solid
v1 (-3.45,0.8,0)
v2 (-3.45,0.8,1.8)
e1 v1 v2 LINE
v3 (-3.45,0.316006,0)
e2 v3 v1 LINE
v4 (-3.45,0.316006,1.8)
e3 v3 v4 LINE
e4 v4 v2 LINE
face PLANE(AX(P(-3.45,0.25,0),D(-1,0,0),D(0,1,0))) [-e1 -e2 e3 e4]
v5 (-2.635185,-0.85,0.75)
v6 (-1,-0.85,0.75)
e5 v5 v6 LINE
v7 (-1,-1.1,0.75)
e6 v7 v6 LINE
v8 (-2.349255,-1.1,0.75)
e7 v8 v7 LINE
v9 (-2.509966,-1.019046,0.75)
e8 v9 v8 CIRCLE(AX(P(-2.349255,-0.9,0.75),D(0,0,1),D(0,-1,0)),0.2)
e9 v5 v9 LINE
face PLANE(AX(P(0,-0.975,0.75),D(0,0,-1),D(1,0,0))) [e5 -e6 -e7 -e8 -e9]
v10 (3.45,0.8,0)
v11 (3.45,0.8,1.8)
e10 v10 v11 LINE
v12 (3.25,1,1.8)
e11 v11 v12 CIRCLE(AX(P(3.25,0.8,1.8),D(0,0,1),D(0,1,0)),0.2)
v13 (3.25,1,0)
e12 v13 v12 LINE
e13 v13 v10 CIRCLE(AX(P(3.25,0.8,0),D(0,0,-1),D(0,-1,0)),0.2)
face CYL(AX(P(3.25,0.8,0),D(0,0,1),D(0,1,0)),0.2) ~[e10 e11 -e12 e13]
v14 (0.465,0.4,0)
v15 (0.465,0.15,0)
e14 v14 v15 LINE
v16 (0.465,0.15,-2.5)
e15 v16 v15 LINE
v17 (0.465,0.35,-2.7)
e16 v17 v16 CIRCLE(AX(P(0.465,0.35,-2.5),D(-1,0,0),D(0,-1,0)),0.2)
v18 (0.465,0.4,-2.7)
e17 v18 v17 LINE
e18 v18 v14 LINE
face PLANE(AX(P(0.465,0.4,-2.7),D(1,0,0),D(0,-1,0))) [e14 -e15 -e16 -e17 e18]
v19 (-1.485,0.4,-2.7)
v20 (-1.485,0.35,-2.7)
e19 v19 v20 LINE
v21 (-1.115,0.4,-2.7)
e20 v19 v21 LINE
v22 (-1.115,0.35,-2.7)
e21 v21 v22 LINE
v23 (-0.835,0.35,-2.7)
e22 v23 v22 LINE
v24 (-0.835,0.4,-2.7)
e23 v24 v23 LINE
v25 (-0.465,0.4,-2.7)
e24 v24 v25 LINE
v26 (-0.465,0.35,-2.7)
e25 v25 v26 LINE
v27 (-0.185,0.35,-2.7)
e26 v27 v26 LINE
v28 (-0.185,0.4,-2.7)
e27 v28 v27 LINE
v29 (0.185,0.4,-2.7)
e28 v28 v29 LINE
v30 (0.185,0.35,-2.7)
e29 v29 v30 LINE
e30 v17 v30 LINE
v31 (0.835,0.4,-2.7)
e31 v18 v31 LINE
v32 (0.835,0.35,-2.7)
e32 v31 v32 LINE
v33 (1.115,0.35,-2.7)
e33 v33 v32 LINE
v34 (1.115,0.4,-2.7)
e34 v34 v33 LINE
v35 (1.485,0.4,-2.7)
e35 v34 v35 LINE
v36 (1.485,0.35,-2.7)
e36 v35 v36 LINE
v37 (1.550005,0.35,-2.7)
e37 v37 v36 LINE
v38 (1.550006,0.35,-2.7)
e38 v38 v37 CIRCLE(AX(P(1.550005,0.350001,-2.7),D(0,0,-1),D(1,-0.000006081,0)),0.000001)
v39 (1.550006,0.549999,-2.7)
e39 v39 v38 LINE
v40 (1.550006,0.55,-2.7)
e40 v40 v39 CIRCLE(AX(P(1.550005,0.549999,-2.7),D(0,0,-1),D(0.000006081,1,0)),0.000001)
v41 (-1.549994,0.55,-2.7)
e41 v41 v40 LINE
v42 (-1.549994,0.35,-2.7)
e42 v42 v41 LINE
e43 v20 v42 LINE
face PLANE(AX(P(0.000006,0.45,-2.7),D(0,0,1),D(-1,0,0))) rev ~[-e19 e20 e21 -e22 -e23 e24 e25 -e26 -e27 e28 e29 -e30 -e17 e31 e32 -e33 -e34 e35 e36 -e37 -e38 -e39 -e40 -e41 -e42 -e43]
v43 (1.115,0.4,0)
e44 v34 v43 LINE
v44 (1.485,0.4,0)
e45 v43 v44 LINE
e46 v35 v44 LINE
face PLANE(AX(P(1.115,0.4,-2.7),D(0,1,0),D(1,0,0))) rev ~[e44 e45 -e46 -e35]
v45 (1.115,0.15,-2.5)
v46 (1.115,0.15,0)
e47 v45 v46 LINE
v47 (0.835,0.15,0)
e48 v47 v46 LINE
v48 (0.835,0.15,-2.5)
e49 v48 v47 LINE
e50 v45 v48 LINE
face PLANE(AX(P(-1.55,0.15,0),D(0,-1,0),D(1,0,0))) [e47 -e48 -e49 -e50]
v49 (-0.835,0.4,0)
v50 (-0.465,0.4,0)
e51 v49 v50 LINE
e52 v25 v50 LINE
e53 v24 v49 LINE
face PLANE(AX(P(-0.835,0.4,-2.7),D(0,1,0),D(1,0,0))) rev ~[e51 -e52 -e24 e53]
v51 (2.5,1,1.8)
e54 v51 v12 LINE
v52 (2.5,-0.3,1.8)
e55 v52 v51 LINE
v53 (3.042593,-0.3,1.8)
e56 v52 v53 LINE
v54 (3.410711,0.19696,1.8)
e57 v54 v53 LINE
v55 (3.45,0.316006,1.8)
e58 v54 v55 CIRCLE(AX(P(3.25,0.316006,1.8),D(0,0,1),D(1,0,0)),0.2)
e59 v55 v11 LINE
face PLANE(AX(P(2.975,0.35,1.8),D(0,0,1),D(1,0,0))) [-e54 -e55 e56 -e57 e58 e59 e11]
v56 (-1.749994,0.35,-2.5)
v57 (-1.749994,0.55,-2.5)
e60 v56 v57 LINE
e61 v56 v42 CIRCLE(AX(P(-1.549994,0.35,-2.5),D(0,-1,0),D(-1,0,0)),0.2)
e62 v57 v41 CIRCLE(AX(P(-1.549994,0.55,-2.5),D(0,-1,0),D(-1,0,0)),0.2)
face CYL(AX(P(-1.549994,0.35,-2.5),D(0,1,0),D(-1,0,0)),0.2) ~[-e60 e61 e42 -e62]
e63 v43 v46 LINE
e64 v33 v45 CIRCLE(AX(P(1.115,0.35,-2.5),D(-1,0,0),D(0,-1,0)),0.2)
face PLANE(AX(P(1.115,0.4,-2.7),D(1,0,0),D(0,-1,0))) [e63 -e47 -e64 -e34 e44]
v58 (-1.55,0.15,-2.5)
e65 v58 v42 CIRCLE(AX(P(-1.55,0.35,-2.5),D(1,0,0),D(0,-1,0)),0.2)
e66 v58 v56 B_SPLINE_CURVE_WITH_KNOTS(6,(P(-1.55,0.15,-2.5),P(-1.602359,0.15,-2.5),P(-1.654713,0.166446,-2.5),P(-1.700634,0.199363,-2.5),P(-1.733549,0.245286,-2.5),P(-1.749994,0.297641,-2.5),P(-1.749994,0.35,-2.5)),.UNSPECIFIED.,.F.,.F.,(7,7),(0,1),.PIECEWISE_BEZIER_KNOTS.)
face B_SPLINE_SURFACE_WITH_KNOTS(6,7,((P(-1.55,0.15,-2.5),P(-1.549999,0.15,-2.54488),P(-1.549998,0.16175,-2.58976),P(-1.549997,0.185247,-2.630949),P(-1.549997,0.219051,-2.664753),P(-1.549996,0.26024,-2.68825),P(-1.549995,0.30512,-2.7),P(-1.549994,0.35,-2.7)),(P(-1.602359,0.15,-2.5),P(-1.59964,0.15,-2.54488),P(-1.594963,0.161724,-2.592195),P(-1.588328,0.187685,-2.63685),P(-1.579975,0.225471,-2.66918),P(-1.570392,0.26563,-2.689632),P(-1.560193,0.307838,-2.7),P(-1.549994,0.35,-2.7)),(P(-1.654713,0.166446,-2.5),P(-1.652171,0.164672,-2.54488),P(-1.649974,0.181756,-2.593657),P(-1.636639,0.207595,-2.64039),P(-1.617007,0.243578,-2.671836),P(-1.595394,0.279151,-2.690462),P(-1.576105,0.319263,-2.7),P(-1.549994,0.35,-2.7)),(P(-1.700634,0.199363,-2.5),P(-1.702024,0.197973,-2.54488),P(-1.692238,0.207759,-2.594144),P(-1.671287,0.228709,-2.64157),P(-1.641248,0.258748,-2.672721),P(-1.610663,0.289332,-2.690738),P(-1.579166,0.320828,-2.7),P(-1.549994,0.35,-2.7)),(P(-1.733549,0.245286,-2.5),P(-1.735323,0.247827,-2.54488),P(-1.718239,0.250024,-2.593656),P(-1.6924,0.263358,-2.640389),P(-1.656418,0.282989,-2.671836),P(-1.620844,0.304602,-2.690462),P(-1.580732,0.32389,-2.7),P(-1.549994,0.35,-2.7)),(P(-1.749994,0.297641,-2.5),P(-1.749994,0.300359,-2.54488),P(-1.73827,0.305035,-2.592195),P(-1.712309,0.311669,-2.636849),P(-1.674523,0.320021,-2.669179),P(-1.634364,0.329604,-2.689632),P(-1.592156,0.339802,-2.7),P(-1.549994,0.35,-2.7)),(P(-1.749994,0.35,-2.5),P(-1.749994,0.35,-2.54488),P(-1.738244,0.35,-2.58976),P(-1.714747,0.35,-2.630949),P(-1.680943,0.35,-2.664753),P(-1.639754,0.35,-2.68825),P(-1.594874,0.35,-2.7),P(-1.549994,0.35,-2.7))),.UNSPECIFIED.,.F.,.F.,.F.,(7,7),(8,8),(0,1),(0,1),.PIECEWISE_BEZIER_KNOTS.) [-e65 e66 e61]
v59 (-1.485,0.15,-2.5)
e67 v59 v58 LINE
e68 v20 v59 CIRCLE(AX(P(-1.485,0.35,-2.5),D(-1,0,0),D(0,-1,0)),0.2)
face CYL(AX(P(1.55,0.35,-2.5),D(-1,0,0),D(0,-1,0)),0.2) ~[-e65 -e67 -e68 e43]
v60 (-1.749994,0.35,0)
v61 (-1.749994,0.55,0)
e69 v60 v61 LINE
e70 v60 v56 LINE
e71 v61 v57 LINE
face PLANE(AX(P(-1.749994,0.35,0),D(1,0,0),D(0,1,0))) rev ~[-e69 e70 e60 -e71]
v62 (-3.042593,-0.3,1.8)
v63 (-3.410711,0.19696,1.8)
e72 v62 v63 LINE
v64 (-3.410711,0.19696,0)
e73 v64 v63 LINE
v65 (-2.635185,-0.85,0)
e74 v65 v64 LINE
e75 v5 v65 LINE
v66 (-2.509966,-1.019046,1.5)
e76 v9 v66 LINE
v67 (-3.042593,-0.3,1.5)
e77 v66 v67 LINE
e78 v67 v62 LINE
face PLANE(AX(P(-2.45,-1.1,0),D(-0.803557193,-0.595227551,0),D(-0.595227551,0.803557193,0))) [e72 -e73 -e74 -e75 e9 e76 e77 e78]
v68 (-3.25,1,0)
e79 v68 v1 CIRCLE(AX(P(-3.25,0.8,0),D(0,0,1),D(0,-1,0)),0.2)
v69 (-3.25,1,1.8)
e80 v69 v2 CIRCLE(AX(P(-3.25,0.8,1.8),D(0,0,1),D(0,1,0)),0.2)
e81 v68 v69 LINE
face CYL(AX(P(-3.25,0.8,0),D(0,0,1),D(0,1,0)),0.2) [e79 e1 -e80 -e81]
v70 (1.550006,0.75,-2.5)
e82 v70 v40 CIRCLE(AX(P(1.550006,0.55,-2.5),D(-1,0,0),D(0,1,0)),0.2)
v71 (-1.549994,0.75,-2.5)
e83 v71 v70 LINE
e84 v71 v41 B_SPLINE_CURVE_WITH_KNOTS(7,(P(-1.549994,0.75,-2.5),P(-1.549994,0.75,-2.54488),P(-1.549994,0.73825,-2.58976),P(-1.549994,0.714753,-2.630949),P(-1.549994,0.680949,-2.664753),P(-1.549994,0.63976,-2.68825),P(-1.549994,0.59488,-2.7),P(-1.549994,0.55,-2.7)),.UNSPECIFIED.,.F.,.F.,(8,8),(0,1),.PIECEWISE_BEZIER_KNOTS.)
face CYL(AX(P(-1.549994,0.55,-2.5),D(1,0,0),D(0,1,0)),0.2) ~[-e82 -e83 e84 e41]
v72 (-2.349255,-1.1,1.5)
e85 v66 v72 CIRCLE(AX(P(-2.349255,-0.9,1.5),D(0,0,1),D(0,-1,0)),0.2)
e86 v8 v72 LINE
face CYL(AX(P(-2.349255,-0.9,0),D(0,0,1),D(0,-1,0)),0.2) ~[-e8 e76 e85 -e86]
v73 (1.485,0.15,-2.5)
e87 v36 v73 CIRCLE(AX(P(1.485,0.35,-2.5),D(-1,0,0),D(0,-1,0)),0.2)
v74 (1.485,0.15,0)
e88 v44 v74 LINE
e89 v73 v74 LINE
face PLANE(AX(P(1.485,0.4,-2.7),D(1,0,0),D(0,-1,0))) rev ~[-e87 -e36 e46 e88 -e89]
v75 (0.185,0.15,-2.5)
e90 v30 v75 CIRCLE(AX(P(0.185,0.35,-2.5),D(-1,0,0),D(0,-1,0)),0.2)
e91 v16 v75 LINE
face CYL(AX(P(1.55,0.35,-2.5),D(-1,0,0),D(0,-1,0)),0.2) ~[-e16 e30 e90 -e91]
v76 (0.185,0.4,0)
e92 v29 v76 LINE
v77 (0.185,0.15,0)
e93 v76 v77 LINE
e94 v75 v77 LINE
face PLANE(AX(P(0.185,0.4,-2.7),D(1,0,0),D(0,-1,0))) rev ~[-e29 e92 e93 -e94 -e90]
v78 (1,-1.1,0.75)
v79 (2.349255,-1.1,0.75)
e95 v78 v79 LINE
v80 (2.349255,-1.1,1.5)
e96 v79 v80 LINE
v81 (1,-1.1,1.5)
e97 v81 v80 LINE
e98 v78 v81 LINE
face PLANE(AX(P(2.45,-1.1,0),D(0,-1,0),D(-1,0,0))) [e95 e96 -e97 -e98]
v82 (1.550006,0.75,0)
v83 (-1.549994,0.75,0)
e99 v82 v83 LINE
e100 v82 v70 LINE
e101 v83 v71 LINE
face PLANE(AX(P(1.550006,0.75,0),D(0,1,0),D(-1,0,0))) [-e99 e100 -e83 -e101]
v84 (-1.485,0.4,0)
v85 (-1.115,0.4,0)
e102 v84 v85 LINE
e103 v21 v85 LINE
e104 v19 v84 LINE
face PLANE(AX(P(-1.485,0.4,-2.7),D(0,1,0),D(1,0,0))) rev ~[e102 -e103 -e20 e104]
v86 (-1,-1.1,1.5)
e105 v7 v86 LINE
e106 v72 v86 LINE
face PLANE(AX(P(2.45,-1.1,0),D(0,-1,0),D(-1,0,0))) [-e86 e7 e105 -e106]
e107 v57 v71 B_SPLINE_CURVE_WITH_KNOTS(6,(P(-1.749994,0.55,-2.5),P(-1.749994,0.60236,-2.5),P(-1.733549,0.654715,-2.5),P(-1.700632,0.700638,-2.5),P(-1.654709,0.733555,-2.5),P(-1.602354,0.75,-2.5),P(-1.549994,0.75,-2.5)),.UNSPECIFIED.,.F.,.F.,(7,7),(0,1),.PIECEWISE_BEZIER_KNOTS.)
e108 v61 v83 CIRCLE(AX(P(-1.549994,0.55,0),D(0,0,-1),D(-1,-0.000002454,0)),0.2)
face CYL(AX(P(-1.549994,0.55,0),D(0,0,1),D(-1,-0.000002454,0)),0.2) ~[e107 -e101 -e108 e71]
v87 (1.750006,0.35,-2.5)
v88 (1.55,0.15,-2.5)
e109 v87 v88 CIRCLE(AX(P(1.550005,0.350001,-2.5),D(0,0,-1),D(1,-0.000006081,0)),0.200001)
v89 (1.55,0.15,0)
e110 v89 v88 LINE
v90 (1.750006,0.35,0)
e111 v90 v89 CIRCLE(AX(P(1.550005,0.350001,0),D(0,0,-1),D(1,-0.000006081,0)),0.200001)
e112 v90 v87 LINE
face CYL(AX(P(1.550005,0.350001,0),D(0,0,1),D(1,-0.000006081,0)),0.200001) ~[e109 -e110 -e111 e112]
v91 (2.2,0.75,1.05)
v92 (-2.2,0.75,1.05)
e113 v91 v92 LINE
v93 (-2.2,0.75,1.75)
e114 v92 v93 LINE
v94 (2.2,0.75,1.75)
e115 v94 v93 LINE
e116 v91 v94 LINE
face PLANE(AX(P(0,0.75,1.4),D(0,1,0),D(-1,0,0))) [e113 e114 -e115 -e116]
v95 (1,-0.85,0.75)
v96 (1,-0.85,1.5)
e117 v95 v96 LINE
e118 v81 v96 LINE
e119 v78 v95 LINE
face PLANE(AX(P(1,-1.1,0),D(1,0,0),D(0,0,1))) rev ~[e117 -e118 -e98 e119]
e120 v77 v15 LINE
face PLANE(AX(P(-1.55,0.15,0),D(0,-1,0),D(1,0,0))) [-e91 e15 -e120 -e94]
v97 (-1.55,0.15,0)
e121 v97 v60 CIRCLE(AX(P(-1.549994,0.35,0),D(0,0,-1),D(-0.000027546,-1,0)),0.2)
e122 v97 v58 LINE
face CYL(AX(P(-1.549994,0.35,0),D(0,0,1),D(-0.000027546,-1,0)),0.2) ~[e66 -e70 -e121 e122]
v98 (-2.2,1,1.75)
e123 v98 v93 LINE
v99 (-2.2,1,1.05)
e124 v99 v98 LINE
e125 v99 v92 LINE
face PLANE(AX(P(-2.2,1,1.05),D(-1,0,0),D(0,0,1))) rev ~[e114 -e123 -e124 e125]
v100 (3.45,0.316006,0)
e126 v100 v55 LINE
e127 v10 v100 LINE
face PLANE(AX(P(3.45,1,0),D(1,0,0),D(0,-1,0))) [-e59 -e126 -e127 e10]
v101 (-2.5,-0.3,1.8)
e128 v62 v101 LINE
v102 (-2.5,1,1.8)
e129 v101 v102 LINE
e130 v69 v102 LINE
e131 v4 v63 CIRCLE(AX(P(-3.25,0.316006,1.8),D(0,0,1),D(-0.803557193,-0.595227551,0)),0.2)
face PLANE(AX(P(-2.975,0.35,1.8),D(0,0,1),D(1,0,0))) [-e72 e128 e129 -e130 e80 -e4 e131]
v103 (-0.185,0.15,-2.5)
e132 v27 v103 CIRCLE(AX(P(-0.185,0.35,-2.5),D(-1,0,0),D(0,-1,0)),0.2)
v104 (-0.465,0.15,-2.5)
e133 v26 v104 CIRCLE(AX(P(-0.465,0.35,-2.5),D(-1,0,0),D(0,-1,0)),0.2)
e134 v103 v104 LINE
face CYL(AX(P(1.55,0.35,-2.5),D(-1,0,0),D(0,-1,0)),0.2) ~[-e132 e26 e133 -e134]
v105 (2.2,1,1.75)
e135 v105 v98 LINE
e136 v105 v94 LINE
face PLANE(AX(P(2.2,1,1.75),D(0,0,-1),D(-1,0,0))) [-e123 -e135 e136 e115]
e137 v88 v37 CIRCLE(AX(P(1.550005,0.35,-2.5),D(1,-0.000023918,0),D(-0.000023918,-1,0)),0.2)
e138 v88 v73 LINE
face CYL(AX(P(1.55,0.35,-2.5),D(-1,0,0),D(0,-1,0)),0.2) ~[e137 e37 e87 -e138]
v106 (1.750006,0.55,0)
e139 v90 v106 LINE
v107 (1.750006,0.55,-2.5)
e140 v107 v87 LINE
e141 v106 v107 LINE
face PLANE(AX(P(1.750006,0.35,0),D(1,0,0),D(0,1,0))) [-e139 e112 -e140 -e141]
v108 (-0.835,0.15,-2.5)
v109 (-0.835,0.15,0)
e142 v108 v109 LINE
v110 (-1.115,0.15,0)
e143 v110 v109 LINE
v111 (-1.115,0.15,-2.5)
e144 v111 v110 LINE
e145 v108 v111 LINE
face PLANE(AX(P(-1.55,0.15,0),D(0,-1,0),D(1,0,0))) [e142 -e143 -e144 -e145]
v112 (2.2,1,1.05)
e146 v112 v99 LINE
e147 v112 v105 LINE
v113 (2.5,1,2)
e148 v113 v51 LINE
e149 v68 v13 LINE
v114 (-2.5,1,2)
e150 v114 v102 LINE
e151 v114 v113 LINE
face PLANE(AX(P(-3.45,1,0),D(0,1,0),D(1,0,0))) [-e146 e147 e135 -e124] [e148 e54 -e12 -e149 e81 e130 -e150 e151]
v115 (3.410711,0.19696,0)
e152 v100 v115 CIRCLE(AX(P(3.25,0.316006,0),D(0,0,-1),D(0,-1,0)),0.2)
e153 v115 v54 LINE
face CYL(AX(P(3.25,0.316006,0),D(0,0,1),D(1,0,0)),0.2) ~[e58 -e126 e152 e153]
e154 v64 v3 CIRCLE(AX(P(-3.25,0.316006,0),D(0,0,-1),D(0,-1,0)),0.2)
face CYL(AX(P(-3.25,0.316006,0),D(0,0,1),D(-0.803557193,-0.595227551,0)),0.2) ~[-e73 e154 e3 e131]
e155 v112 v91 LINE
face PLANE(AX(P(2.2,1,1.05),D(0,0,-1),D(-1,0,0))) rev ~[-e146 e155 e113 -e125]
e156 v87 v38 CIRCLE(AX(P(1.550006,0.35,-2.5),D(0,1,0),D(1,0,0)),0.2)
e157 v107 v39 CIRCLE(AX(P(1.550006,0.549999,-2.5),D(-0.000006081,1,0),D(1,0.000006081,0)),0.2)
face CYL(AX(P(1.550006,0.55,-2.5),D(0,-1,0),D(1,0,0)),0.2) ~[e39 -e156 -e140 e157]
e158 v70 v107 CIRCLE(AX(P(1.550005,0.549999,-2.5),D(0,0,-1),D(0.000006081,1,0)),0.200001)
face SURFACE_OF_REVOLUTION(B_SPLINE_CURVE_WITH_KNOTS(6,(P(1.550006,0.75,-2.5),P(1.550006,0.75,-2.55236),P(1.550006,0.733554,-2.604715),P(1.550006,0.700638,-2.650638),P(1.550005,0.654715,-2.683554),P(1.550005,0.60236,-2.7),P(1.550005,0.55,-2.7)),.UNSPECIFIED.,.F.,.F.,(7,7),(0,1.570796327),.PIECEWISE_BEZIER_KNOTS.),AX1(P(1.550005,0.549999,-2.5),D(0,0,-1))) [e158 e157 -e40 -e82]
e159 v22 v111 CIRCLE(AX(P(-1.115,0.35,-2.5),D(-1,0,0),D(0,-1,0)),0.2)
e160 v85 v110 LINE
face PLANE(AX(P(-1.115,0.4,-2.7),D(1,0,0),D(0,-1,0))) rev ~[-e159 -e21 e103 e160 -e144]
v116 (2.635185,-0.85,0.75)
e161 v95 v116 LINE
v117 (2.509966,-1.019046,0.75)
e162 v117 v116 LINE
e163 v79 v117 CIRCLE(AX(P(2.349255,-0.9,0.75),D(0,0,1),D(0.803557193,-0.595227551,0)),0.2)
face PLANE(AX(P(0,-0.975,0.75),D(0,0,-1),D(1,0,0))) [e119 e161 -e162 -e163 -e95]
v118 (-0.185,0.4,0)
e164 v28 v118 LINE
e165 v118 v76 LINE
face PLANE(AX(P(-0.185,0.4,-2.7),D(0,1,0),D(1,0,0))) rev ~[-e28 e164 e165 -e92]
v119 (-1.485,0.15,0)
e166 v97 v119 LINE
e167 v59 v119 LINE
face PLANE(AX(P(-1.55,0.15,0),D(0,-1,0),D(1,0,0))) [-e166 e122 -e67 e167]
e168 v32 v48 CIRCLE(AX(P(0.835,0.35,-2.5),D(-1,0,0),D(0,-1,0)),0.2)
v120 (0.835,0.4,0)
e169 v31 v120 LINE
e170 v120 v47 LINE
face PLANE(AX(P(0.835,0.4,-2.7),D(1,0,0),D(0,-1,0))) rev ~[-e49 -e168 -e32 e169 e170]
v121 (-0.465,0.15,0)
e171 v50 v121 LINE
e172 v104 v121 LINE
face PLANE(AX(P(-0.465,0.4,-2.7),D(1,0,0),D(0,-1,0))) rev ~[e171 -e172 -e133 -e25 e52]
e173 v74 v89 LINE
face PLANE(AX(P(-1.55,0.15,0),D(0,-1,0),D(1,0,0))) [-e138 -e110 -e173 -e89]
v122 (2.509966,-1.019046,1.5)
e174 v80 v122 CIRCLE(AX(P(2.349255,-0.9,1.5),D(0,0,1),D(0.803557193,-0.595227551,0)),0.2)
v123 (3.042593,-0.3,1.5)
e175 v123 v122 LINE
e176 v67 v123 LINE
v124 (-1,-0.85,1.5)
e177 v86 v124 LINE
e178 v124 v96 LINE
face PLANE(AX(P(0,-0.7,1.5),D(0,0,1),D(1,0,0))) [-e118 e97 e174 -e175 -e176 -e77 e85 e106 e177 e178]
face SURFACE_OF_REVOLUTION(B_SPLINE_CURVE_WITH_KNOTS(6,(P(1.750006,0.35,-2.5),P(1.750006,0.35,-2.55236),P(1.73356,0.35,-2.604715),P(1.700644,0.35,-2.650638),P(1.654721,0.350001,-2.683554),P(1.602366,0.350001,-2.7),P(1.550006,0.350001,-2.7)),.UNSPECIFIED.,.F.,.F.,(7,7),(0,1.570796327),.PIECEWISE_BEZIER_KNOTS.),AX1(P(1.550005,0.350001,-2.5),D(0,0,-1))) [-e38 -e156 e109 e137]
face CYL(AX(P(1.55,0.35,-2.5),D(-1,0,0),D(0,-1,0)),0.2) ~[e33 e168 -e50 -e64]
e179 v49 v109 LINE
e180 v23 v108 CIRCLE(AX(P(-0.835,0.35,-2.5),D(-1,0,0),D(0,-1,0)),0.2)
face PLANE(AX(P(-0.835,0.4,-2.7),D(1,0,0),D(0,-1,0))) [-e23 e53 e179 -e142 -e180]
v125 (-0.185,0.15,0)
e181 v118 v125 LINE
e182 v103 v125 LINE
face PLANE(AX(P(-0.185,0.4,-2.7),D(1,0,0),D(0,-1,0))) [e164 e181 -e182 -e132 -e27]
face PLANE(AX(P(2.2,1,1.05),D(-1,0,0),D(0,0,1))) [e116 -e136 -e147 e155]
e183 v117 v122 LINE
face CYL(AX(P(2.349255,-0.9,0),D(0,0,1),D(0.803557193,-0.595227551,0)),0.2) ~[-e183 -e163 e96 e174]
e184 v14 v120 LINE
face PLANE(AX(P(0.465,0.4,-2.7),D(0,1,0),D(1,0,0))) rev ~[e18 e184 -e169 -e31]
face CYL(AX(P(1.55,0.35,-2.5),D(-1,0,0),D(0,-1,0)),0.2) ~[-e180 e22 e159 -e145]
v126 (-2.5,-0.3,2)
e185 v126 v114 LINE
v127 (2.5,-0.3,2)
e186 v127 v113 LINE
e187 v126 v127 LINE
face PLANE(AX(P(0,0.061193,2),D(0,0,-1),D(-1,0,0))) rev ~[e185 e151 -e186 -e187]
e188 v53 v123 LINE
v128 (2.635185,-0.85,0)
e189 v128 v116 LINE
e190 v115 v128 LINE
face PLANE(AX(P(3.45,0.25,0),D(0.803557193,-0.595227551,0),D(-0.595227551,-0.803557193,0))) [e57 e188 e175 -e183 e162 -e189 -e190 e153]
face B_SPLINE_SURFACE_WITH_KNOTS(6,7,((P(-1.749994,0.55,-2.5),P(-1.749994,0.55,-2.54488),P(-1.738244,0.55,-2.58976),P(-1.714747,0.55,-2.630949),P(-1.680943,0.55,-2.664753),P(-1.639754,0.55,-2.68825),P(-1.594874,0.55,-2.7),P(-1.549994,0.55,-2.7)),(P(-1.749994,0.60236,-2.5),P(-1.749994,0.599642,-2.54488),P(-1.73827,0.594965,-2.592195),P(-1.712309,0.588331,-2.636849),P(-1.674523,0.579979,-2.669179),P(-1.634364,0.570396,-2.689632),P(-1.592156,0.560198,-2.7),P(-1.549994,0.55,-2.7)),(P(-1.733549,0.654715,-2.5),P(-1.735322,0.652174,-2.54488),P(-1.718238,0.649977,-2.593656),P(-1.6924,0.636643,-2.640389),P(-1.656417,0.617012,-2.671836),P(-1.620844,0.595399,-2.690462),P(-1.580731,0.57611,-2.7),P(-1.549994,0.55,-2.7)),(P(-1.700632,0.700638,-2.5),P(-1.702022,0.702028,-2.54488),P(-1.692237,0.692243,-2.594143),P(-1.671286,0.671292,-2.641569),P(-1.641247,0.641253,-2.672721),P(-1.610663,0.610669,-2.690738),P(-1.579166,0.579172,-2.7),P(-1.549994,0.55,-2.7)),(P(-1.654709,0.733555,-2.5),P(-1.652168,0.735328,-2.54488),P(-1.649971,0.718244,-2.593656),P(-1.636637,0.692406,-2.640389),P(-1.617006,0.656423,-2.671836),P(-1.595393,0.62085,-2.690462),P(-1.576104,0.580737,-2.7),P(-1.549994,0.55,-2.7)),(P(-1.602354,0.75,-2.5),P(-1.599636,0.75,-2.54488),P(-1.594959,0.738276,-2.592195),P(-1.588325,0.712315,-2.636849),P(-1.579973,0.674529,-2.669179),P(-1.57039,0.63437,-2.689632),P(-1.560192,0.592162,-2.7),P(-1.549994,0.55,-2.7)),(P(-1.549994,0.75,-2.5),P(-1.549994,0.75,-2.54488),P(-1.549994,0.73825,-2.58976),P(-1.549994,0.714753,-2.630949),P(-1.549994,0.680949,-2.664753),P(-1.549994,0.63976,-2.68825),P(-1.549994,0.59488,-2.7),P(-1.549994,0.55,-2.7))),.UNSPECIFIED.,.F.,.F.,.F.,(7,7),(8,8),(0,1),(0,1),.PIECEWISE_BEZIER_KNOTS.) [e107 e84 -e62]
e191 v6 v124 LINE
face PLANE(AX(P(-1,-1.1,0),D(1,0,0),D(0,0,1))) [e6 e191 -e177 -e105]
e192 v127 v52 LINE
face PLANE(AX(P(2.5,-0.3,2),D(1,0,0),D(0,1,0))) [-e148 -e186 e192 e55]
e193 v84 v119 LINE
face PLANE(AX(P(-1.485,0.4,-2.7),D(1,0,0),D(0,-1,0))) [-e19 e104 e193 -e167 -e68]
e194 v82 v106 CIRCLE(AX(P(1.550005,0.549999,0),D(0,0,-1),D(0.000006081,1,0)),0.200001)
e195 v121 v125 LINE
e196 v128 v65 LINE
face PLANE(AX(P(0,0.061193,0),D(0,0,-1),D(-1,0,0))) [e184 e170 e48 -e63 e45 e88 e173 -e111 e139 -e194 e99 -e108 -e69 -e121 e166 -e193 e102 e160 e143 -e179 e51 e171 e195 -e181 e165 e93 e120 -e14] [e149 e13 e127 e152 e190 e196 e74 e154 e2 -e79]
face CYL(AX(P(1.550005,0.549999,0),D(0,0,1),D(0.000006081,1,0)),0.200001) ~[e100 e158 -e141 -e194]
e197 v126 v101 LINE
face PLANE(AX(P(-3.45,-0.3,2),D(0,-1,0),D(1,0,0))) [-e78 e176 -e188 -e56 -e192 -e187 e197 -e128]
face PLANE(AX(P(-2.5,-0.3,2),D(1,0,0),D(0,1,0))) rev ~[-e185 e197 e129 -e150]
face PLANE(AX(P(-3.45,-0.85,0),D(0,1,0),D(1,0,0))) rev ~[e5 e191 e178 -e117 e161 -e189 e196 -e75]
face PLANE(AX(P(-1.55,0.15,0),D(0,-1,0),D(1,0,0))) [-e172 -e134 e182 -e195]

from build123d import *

# Parameters (mm, degrees)
PAD_DEPTH           = 2
FILLET_R            = 0.2
SKETCH001_W         = 6.9
SKETCH001_H         = 0.8
POCKET_DEPTH        = 0.5
SKETCH002_W         = 0.95
SKETCH002_H         = 1.3
POCKET001_DEPTH     = 0.2
SKETCH003_W         = 2
SKETCH003_H         = 1.5
POCKET002_DEPTH     = 0.25
SKETCH004_W         = 6.9
SKETCH004_H         = 0.25
POCKET003_DEPTH     = 0.75
SKETCH005_W         = 4.4
SKETCH005_H         = 0.7
POCKET004_DEPTH     = 0.25
PAD001_DEPTH        = 2.7
FILLET001_R         = 0.2
SKETCH007_W         = 0.37
SKETCH007_H         = 0.25
POCKET005_DEPTH     = 2.7
LINEARPATTERN_COUNT = 5
LINEARPATTERN_PITCH = 0.65


with BuildPart() as part:
    # Sketch → Pad (new body)
    with BuildSketch(Plane.XY):
        Polygon((-3.45, 1), (3.45, 1), (3.45, 0.25), (2.45, -1.1), (-2.45, -1.1), (-3.45, 0.25), align=None)
    extrude(amount=PAD_DEPTH)

    # Fillet
    fillet_edges = [part.edges().sort_by_distance(p)[0] for p in [
        (3.45, 1, 1),
        (3.45, 0.25, 1),
        (2.45, -1.1, 1),
        (-2.45, -1.1, 1),
        (-3.45, 0.25, 1),
        (-3.45, 1, 1),
    ]]
    fillet(fillet_edges, radius=FILLET_R)

    # Sketch001 (on Face5 of Fillet) → Pocket (cut)
    with BuildSketch(Plane.XY.offset(2)):
        with Locations((0, -0.7)):
            Rectangle(SKETCH001_W, SKETCH001_H)
    extrude(amount=-POCKET_DEPTH, mode=Mode.SUBTRACT)

    # Sketch002 (on Face4 of Pocket) → Pocket001 (cut)
    with BuildSketch(Plane.XY.offset(2)):
        with Locations((-2.975, 0.35)):
            Rectangle(SKETCH002_W, SKETCH002_H)
        with Locations((2.975, 0.35)):
            Rectangle(SKETCH002_W, SKETCH002_H)
    extrude(amount=-POCKET001_DEPTH, mode=Mode.SUBTRACT)

    # Sketch003 (on Face8 of Pocket001) → Pocket002 (cut)
    with BuildSketch(Plane.XZ.offset(1.1)):
        with Locations((0, 0.75)):
            Rectangle(SKETCH003_W, SKETCH003_H)
    extrude(amount=-POCKET002_DEPTH, mode=Mode.SUBTRACT)

    # Sketch004 (on Face2 of Pocket002) → Pocket003 (cut)
    with BuildSketch(Plane(origin=(0, 0, 0), x_dir=(1, 0, 0), z_dir=(0, 0, -1))):
        with Locations((0, 0.975)):
            Rectangle(SKETCH004_W, SKETCH004_H)
    extrude(amount=-POCKET003_DEPTH, mode=Mode.SUBTRACT)

    # Sketch005 (on Face12 of Pocket003) → Pocket004 (cut)
    with BuildSketch(Plane(origin=(0, 1, 0), x_dir=(-1, 0, 0), z_dir=(0, 1, 0))):
        with Locations((0, 1.4)):
            Rectangle(SKETCH005_W, SKETCH005_H)
    extrude(amount=-POCKET004_DEPTH, mode=Mode.SUBTRACT)

    # Sketch006 (on Face2 of Pocket004) → Pad001 (join)
    with BuildSketch(Plane(origin=(0, 0, 0), x_dir=(1, 0, 0), z_dir=(0, 0, -1))):
        with BuildLine():
            Line((-1.55, -0.15), (1.55, -0.15))
            ThreePointArc((1.750006, -0.35), (1.691425, -0.208577), (1.55, -0.15))
            Line((1.750006, -0.35), (1.750006, -0.55))
            ThreePointArc((1.550006, -0.75), (1.691427, -0.691421), (1.750006, -0.55))
            Line((1.550006, -0.75), (-1.549994, -0.75))
            ThreePointArc((-1.749994, -0.55), (-1.691416, -0.691421), (-1.549994, -0.75))
            Line((-1.749994, -0.35), (-1.749994, -0.55))
            ThreePointArc((-1.55, -0.15), (-1.691418, -0.208581), (-1.749994, -0.35))
        make_face()
    extrude(amount=PAD001_DEPTH)

    # Fillet001
    fillet001_edges = [part.edges().sort_by_distance(p)[0] for p in [
        (-1.691418, 0.208581, -2.7),
        (0, 0.15, -2.7),
        (1.691425, 0.208577, -2.7),
        (1.750006, 0.45, -2.7),
        (1.691427, 0.691421, -2.7),
        (6e-06, 0.75, -2.7),
        (-1.691416, 0.691421, -2.7),
        (-1.749994, 0.45, -2.7),
    ]]
    fillet(fillet001_edges, radius=FILLET001_R)

    # Sketch007 (on Face8 of Fillet001) → Pocket005 (cut)
    with BuildSketch(Plane(origin=(0, 0, -2.7), x_dir=(1, 0, 0), z_dir=(0, 0, -1))):
        with Locations((-1.3, -0.275)):
            Rectangle(SKETCH007_W, SKETCH007_H)
    pocket005 = extrude(amount=-POCKET005_DEPTH, mode=Mode.SUBTRACT)

    # LinearPattern: Pocket005 ×5
    with Locations(*[(i * LINEARPATTERN_PITCH, 0, 0) for i in range(1, LINEARPATTERN_COUNT)]):
        add(pocket005, mode=Mode.SUBTRACT)


solid = part.part
